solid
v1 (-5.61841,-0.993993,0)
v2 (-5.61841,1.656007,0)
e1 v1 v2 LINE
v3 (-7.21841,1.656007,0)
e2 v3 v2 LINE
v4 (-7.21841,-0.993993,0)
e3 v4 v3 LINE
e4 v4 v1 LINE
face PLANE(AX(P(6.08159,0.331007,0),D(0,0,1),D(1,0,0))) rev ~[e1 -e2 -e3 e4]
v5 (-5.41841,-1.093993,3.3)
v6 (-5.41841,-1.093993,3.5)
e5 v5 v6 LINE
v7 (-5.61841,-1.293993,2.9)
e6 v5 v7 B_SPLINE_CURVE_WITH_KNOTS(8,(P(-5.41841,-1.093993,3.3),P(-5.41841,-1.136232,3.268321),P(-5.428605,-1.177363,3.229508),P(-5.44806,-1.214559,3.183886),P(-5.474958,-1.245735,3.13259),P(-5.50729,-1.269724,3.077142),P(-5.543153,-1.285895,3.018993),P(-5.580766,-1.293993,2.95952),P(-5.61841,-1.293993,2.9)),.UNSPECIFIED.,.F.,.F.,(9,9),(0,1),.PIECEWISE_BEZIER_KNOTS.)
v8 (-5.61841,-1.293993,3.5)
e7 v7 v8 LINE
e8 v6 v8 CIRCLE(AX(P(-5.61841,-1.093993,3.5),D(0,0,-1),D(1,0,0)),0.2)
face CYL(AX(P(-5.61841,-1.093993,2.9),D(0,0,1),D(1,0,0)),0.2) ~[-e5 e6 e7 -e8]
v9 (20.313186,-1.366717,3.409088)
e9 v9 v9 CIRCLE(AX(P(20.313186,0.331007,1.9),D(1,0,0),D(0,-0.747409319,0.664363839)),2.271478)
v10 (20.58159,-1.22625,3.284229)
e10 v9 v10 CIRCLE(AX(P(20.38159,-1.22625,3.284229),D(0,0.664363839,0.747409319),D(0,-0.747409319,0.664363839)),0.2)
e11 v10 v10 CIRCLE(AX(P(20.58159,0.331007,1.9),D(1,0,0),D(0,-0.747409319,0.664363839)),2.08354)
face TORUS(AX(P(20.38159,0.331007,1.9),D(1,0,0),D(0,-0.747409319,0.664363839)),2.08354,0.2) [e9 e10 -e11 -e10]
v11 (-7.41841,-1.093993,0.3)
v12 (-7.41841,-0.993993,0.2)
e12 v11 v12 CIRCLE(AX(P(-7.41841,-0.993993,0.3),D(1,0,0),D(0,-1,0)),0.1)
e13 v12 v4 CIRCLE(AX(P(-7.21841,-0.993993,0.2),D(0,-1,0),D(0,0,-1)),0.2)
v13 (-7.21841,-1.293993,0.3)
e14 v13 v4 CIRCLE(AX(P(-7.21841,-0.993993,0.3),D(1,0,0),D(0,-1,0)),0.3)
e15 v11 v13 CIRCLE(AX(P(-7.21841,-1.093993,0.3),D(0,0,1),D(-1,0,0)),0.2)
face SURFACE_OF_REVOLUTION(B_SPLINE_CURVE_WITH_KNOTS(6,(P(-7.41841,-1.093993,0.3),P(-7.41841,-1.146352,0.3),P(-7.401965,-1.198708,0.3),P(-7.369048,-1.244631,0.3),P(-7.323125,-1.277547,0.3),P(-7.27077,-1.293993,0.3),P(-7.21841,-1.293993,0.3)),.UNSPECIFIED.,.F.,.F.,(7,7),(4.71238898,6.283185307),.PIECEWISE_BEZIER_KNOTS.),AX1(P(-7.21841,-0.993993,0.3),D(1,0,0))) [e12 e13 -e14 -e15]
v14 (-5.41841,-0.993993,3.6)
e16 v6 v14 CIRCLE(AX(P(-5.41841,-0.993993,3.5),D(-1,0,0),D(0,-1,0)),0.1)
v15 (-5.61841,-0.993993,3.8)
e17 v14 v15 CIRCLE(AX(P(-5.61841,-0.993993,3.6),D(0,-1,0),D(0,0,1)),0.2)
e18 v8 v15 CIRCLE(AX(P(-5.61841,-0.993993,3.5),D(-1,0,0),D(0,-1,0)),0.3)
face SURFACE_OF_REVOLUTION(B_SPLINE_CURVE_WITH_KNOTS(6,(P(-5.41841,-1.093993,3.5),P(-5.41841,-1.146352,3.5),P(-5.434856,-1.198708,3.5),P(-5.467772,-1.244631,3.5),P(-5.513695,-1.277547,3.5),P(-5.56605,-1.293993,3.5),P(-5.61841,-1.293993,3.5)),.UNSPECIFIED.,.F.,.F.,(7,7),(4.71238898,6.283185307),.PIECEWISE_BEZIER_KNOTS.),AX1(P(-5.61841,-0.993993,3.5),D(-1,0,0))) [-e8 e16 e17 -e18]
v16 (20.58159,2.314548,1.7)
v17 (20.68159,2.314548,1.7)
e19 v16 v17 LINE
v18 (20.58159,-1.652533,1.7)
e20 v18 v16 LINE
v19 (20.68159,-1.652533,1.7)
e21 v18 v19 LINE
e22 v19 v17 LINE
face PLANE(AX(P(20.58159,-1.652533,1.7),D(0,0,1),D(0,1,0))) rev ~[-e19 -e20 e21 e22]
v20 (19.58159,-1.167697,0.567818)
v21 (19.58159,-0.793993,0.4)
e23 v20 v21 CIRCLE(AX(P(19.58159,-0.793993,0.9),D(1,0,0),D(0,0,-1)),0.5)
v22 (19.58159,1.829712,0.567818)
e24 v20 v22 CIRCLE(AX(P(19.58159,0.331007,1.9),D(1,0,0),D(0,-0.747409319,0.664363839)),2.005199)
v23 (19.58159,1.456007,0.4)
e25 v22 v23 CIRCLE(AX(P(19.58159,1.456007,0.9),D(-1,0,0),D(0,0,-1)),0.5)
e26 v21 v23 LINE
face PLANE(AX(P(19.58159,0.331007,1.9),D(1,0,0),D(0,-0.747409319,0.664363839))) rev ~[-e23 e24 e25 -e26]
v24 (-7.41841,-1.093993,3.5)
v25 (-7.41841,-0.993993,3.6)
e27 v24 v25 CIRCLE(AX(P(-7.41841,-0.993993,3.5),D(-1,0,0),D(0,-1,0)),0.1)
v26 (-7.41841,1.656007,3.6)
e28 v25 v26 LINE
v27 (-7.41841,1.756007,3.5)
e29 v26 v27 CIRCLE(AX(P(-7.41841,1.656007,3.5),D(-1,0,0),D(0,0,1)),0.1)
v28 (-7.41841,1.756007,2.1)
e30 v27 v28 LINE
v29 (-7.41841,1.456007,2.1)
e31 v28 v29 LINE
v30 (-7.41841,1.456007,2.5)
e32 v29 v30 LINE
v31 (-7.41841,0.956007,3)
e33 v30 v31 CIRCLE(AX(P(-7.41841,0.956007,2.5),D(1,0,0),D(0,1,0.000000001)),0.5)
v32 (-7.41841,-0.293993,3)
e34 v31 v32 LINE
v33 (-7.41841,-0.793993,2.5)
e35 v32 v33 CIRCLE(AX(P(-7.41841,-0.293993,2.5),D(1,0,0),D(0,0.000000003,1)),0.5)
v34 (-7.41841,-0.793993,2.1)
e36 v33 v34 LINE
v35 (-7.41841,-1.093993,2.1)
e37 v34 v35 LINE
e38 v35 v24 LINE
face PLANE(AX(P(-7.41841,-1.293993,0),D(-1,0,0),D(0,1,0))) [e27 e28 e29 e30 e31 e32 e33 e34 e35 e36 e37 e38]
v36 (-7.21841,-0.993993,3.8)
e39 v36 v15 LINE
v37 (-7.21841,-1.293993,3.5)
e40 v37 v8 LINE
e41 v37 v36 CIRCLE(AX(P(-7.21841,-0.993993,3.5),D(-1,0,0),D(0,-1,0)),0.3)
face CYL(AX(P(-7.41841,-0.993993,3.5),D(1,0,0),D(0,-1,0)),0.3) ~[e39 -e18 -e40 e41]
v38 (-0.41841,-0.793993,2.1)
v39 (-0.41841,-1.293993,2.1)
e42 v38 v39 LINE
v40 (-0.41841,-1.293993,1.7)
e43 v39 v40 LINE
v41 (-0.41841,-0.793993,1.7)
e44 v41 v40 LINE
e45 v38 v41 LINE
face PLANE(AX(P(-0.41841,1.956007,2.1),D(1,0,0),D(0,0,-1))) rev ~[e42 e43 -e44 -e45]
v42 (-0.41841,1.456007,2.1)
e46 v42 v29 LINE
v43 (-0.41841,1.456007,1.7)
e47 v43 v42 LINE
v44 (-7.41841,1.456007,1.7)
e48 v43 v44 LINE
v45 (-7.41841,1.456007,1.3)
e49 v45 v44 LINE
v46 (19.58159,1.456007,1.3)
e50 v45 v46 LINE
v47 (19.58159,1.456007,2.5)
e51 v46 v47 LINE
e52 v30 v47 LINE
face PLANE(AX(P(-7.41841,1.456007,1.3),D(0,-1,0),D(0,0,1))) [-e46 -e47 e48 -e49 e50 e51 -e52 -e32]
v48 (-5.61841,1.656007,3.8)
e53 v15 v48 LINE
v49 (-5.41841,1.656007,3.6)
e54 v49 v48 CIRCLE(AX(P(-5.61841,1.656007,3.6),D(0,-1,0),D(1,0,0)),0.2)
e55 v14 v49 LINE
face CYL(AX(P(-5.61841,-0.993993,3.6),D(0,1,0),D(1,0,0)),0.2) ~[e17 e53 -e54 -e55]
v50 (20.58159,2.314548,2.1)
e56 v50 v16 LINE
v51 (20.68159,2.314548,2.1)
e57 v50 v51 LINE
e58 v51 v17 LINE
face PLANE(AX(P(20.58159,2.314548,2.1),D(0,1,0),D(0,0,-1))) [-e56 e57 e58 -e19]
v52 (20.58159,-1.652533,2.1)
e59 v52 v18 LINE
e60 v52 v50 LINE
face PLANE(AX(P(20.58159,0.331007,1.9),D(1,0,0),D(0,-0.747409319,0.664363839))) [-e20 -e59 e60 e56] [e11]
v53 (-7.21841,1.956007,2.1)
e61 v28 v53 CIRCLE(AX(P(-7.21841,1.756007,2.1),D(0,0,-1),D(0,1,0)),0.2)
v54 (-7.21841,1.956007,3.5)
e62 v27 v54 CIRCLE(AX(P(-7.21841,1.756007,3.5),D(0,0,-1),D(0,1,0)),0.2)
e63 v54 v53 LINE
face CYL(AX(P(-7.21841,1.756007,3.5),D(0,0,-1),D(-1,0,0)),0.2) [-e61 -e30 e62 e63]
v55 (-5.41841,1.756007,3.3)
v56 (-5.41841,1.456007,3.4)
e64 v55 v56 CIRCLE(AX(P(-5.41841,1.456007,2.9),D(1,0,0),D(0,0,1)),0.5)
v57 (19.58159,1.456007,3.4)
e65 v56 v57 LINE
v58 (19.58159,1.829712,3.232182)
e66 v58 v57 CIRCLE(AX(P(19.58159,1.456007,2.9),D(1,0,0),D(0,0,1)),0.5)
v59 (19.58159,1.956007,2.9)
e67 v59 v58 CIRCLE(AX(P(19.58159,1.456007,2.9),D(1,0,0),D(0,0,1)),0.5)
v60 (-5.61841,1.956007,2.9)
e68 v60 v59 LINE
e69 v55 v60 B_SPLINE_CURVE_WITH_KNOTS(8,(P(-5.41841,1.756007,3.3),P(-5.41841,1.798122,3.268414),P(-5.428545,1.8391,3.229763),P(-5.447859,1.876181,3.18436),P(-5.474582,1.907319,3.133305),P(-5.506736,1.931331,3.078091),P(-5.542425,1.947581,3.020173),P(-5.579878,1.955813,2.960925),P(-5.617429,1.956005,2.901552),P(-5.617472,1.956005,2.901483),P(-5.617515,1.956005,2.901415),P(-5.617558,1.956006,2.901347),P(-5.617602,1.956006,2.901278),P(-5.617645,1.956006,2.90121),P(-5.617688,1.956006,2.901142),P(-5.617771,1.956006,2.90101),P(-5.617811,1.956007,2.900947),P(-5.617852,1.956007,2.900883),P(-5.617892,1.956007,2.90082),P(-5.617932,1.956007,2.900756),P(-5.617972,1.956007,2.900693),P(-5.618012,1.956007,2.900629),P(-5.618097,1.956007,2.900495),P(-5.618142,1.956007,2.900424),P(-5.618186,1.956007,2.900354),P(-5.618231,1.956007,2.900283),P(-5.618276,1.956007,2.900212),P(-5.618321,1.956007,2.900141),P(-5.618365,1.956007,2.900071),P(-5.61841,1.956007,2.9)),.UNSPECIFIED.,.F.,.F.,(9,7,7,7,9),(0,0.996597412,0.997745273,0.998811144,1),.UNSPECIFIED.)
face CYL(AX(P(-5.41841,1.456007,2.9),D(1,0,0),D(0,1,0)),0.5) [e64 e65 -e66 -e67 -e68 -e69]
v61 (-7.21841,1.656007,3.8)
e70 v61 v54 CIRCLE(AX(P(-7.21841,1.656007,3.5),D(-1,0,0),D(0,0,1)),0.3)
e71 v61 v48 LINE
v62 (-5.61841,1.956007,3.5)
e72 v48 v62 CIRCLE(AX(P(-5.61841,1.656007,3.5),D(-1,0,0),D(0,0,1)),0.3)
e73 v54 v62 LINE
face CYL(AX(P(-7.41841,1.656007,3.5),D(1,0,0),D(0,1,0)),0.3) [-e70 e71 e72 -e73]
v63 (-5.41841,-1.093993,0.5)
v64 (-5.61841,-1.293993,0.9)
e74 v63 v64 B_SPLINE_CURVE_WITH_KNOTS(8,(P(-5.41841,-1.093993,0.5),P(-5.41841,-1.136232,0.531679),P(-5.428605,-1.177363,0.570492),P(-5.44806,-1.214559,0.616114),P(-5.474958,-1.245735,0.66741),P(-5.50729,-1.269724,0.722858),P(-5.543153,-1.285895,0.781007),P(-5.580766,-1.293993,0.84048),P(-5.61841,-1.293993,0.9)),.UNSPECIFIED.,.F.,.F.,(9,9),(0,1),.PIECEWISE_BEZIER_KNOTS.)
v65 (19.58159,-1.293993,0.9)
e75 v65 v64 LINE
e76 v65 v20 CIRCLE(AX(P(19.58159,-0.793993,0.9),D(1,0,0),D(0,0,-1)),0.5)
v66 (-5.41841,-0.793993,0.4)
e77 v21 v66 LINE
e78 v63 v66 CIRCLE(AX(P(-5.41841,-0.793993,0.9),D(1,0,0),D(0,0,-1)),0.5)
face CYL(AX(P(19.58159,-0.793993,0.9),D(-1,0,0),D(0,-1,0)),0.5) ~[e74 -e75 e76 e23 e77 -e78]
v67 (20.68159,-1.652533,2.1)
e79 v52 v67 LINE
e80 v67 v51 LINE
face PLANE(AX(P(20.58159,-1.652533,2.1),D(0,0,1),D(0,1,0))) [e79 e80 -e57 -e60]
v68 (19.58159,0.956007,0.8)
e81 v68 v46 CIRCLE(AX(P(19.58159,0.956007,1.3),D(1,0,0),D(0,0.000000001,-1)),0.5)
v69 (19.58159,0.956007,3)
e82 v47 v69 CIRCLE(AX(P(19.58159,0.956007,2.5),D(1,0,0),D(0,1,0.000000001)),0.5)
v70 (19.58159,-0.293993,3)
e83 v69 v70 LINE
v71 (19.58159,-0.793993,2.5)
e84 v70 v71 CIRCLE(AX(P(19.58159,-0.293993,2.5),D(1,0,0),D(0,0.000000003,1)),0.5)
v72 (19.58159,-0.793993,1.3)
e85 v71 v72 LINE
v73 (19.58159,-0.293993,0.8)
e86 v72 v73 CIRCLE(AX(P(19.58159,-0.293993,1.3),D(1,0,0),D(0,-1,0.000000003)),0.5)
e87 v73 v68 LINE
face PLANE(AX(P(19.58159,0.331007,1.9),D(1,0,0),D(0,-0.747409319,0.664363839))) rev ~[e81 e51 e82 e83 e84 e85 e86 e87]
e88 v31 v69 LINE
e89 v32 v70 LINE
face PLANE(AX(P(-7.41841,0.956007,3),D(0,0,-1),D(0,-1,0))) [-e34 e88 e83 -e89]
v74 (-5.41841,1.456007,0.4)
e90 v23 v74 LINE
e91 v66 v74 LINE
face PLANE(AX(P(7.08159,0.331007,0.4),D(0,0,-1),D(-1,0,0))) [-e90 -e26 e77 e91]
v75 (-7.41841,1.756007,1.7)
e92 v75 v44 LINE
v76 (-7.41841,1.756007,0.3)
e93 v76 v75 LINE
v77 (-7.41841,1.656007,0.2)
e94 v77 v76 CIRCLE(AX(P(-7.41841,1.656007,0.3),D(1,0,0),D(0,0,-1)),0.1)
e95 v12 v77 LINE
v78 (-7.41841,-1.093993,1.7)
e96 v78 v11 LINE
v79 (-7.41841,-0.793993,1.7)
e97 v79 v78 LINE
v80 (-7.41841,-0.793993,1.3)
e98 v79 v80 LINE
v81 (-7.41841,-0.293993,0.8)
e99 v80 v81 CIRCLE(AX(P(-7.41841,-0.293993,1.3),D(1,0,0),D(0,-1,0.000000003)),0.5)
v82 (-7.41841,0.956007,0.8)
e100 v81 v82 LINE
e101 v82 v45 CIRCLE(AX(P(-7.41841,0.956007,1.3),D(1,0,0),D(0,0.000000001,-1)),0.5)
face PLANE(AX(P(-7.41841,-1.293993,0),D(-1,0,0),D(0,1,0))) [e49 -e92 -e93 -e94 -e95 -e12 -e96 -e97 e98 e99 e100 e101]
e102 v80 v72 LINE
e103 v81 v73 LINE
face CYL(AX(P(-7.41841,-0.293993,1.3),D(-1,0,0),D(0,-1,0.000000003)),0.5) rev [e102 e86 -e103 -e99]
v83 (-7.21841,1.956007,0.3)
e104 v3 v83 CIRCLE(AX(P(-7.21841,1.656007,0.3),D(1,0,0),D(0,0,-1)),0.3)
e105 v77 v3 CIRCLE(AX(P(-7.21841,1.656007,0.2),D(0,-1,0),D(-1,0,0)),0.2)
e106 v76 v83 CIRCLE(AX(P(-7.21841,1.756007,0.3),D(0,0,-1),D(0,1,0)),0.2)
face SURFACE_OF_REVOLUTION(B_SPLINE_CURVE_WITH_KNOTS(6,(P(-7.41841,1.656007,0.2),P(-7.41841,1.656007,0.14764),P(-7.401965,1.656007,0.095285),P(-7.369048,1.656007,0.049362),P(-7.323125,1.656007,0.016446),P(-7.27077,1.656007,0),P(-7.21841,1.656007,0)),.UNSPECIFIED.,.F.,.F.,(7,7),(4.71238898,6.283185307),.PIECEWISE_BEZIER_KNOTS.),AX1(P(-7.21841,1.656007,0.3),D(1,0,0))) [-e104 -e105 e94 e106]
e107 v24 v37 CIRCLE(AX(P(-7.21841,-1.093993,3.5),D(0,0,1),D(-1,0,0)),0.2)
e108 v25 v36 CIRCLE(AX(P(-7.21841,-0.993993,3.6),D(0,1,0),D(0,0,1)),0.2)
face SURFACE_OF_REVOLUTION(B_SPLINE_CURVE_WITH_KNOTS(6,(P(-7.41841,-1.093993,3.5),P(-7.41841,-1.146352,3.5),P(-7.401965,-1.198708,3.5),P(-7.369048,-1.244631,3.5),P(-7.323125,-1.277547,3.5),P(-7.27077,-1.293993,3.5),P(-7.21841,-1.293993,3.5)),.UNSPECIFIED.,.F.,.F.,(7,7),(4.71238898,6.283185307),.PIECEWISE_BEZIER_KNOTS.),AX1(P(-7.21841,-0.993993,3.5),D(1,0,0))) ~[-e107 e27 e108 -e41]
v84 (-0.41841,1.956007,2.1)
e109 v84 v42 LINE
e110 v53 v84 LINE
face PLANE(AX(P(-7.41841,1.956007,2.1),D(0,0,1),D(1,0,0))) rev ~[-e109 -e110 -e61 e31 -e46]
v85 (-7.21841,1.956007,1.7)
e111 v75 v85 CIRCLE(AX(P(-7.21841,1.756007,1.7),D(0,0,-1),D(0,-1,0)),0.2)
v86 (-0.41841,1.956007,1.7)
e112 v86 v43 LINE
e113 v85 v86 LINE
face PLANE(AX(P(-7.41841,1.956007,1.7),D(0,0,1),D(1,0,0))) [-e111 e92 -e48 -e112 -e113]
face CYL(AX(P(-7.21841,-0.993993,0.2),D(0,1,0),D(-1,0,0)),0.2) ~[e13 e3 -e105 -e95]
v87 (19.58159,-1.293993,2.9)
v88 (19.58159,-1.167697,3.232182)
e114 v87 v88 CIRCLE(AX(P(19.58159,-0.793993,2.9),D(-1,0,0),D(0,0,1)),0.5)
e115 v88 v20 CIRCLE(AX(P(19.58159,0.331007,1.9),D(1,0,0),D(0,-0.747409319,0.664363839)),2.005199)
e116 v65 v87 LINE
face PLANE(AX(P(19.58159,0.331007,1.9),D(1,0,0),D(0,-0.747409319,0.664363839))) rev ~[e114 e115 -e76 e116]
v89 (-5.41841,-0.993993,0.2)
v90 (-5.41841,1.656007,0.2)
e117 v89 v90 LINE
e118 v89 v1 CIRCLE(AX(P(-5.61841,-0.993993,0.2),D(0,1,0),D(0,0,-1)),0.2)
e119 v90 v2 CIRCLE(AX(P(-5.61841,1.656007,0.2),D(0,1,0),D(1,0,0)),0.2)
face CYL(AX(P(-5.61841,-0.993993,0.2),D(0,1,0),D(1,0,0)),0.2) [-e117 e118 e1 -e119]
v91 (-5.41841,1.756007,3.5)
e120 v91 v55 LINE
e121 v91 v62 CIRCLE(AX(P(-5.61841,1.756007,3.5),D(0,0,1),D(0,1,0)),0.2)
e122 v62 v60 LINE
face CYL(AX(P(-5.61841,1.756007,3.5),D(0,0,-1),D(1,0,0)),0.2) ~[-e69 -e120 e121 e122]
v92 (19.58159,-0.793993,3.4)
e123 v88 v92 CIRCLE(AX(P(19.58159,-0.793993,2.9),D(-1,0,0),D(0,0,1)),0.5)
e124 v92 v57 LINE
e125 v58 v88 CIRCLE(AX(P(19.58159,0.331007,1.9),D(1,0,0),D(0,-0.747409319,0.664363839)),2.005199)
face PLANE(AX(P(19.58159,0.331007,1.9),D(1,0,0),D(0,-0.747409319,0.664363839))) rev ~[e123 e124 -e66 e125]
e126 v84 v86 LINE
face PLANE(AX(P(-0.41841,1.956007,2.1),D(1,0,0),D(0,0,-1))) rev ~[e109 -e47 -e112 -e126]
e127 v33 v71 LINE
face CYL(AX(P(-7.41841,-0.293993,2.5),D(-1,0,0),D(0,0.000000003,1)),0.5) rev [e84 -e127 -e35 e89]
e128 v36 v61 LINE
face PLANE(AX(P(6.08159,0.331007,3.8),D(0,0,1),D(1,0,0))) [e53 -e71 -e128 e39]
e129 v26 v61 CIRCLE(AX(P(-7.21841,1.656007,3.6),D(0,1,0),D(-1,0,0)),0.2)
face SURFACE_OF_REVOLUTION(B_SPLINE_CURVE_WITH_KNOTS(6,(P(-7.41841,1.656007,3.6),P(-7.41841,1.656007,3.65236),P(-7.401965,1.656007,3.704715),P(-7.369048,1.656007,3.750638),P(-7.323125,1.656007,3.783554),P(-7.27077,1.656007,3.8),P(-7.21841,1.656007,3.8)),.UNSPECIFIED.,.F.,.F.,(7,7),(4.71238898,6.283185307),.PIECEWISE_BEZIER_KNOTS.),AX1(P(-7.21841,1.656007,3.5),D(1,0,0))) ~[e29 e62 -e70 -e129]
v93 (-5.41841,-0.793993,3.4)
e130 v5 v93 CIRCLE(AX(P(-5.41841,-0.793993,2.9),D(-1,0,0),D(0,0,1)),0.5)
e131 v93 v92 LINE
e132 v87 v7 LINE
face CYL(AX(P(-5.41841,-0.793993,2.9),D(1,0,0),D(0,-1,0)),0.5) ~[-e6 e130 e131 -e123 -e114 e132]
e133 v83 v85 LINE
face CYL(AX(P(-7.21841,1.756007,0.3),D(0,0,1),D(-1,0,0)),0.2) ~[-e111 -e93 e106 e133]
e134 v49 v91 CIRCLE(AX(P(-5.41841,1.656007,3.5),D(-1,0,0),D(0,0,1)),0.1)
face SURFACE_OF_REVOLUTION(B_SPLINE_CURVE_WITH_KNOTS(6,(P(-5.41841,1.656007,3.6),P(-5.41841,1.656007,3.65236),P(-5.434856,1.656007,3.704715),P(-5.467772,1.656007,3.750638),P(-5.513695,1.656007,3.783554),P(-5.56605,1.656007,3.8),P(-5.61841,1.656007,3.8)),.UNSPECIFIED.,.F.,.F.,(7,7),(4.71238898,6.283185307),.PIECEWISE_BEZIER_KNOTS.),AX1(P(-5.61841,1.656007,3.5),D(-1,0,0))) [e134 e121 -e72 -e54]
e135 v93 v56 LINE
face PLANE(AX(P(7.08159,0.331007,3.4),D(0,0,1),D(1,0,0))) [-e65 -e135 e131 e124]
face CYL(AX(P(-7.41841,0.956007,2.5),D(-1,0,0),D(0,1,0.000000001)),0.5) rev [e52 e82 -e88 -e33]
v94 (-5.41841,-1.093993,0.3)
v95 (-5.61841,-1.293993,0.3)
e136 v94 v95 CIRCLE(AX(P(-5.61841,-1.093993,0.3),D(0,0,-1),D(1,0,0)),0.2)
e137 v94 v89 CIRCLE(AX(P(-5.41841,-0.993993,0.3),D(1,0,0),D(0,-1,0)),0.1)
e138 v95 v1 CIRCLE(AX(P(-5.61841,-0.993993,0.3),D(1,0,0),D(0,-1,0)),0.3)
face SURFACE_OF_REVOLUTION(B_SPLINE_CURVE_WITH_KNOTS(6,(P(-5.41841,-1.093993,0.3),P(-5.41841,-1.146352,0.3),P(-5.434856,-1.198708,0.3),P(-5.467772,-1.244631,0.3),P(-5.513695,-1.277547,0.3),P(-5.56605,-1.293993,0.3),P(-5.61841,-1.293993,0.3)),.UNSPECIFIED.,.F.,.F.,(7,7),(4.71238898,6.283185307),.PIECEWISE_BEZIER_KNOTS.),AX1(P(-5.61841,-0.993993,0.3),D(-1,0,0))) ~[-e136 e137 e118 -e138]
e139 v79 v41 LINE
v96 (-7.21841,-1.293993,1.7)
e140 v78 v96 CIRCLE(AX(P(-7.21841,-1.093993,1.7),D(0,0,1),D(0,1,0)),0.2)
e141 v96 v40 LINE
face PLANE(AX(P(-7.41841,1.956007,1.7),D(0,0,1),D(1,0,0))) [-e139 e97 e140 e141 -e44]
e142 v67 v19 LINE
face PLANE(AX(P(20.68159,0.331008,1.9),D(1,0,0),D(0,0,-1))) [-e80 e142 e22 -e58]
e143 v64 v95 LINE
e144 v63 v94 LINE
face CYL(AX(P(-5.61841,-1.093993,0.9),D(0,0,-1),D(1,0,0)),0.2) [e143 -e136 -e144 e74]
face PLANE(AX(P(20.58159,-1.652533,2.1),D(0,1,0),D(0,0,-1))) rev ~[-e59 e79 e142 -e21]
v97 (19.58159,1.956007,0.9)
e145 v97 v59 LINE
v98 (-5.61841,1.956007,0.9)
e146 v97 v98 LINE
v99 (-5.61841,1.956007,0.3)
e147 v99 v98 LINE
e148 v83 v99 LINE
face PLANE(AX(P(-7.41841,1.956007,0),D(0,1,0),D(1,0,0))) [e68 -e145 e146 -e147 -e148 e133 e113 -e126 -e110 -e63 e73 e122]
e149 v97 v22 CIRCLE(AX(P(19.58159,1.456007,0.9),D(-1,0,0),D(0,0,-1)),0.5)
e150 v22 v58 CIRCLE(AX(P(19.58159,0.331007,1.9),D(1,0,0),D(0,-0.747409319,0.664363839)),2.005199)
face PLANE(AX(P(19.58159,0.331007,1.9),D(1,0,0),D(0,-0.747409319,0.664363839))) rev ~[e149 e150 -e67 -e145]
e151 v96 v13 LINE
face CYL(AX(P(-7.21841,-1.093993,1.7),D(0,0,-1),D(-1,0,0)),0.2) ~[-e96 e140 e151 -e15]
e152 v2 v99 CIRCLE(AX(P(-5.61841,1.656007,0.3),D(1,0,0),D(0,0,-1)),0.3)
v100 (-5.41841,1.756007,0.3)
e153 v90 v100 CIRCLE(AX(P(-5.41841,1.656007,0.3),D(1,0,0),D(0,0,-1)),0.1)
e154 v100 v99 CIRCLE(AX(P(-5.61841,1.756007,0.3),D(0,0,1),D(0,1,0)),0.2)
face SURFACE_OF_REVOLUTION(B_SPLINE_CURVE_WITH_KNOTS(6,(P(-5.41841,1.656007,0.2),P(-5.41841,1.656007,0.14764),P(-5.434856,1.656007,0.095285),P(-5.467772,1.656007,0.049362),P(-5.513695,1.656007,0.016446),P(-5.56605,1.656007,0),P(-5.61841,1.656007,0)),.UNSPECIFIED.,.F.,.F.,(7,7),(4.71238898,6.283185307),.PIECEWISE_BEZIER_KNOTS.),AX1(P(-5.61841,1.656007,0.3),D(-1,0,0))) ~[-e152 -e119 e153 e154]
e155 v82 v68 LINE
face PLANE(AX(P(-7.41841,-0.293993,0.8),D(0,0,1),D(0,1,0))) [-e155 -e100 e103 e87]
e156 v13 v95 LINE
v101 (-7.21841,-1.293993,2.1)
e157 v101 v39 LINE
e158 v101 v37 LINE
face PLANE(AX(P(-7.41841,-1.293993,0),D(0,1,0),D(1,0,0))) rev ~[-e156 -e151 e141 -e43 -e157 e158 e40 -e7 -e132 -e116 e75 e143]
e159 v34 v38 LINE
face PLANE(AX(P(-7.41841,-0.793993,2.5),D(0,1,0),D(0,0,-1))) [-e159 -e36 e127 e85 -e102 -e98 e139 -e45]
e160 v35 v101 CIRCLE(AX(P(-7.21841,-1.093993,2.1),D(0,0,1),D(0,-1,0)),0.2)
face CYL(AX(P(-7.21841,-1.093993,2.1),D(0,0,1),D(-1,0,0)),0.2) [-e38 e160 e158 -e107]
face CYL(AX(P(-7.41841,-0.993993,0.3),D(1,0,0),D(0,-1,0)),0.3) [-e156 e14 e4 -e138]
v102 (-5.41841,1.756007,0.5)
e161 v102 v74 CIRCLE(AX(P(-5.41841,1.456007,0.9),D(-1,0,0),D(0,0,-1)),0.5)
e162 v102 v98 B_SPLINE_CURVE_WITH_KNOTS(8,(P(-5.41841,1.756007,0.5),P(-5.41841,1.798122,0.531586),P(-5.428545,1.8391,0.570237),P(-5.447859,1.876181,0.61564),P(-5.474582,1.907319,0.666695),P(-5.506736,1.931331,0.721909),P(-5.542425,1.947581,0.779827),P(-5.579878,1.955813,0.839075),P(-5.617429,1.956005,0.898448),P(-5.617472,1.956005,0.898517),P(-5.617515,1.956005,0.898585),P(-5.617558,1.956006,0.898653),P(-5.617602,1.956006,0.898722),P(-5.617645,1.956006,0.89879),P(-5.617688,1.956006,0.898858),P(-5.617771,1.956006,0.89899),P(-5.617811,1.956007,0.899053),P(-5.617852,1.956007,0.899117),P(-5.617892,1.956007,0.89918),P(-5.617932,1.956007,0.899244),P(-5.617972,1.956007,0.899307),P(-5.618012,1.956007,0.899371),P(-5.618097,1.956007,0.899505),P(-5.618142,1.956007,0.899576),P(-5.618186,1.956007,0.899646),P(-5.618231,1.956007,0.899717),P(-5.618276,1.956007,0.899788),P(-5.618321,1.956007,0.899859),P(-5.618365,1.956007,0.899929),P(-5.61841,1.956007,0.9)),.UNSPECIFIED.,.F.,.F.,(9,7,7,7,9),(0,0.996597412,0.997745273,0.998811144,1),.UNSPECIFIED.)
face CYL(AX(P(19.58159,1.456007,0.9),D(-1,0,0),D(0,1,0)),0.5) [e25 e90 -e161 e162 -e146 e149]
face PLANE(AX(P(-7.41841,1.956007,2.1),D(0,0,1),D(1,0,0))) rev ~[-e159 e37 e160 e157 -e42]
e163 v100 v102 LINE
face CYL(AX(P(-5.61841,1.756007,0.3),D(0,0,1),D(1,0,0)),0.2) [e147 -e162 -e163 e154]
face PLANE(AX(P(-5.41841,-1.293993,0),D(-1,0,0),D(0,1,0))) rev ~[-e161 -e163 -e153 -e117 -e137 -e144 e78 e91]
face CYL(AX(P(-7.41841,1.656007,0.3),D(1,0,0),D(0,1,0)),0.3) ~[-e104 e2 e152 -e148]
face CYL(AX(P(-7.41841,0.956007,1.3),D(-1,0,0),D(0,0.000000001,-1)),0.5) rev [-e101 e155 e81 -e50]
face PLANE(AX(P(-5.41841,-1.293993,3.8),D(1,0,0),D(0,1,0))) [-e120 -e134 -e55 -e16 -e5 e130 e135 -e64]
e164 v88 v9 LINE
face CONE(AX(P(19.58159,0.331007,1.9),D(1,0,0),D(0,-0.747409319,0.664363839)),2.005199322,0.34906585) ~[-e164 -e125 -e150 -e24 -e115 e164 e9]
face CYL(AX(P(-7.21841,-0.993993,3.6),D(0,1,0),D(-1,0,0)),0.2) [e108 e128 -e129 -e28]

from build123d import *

# Parameters (mm, degrees)
ESQUISSE1_W             = 27
ESQUISSE1_H             = 3.25
BOSS_EXTRU_5_DEPTH      = 3.8
ESQUISSE10_W            = 25
ESQUISSE10_H            = 3.25
ENL_V_MAT_EXTRU_1_DEPTH = 0.4
ESQUISSE12_W            = 25
ESQUISSE12_H            = 3.25
ENL_V_MAT_EXTRU_2_DEPTH = 0.4
ENL_V_MAT_EXTRU_3_DEPTH = 27
ESQUISSE14_W            = 7
ESQUISSE14_H            = 0.4
ENL_V_MAT_EXTRU_4_DEPTH = 21.209927394
CONG_1_R                = 0.5
CONG_2_R                = 0.3
CONG_3_R                = 0.2
ESQUISSE19_R            = 2.005199322
BOSS_EXTRU_8_DEPTH      = 1
D_POUILLE1_ANGLE        = 20
CONG_4_R                = 0.2
ESQUISSE20_W            = 0.4
ESQUISSE20_H            = 3.967080209
BOSS_EXTRU_9_DEPTH      = 0.1


with BuildPart() as part:
    # Esquisse1 → Boss.-Extru.5 (new body)
    with BuildSketch(Plane.XY):
        with Locations((6.081589958, 0.331007393)):
            Rectangle(ESQUISSE1_W, ESQUISSE1_H)
    extrude(amount=BOSS_EXTRU_5_DEPTH)

    # Esquisse10 → Enlèv. mat.-Extru.1 (cut)
    with BuildSketch(Plane(origin=(0, 0, 0), x_dir=(-1, 0, 0), z_dir=(0, 0, -1))):
        with Locations((-7.081589958, 0.331007393)):
            Rectangle(ESQUISSE10_W, ESQUISSE10_H)
    extrude(amount=-ENL_V_MAT_EXTRU_1_DEPTH, mode=Mode.SUBTRACT)

    # Esquisse12 → Enlèv. mat.-Extru.2 (cut)
    with BuildSketch(Plane.XY.offset(3.8)):
        with Locations((7.081589958, 0.331007393)):
            Rectangle(ESQUISSE12_W, ESQUISSE12_H)
    extrude(amount=-ENL_V_MAT_EXTRU_2_DEPTH, mode=Mode.SUBTRACT)

    # Esquisse13 → Enlèv. mat.-Extru.3 (cut)
    with BuildSketch(Plane.ZY.offset(7.418410042)):
        with BuildLine():
            Line((1.3, 1.456007393), (2.5, 1.456007393))
            ThreePointArc((2.5, 1.456007393), (2.853553391, 1.309560783), (3, 0.956007393))
            Line((3, 0.956007393), (3, -0.293992607))
            ThreePointArc((3, -0.293992607), (2.853553391, -0.647545998), (2.5, -0.793992607))
            Line((2.5, -0.793992607), (1.3, -0.793992607))
            ThreePointArc((1.3, -0.793992607), (0.946446609, -0.647545998), (0.8, -0.293992607))
            Line((0.8, -0.293992607), (0.8, 0.956007393))
            ThreePointArc((0.8, 0.956007393), (0.946446609, 1.309560783), (1.3, 1.456007393))
        make_face()
    extrude(amount=-ENL_V_MAT_EXTRU_3_DEPTH, mode=Mode.SUBTRACT)

    # Esquisse14 → Enlèv. mat.-Extru.4 (cut, through all)
    with BuildSketch(Plane(origin=(0, 1.956007393, 0), x_dir=(1, 0, 0), z_dir=(0, 1, 0))):
        with Locations((-3.918410042, -1.9)):
            Rectangle(ESQUISSE14_W, ESQUISSE14_H)
    extrude(amount=-ENL_V_MAT_EXTRU_4_DEPTH, mode=Mode.SUBTRACT)

    # Congé1
    cong_1_edges = [part.edges().sort_by_distance(p)[0] for p in [
        (7.081589958, 1.956007393, 0.4),
        (7.081589958, -1.293992607, 0.4),
        (7.081589958, 1.956007393, 3.4),
        (7.081589958, -1.293992607, 3.4),
    ]]
    fillet(cong_1_edges, radius=CONG_1_R)

    # Congé2
    cong_2_edges = [part.edges().sort_by_distance(p)[0] for p in [
        (-6.418410042, 1.956007393, 0),
        (-6.418410042, 1.956007393, 3.8),
        (-6.418410042, -1.293992607, 0),
        (-6.418410042, -1.293992607, 3.8),
    ]]
    fillet(cong_2_edges, radius=CONG_2_R)

    # Congé3
    cong_3_edges = [part.edges().sort_by_distance(p)[0] for p in [
        (-7.418410042, -1.293992607, 2.8),
        (-5.418410042, 0.331007393, 0),
        (-5.418410042, 1.868139427, 0.087867966),
        (-5.418410042, -1.206124642, 0.087867966),
        (-7.418410042, 0.331007393, 0),
        (-7.418410042, 1.868139427, 0.087867966),
        (-7.418410042, -1.206124642, 0.087867966),
        (-7.418410042, 1.956007393, 2.8),
        (-5.418410042, 0.331007393, 3.8),
        (-7.418410042, 0.331007393, 3.8),
        (-7.418410042, -1.206124642, 3.712132034),
        (-7.418410042, 1.868139427, 3.712132034),
        (-5.418410042, -1.206124642, 3.712132034),
        (-5.418410042, 1.868139427, 3.712132034),
        (-5.418410042, 1.956007393, 0.6),
        (-5.418410042, -1.293992607, 0.6),
        (-5.418410042, -1.293992607, 3.2),
        (-5.418410042, 1.956007393, 3.2),
        (-7.418410042, 1.956007393, 1),
        (-7.418410042, -1.293992607, 1),
    ]]
    fillet(cong_3_edges, radius=CONG_3_R)

    # Esquisse19 → Boss.-Extru.8 (add)
    with BuildSketch(Plane(origin=(19.581589958, 0, 0), x_dir=(0, 0, -1), z_dir=(1, 0, 0))):
        with Locations(Location((-1.9, 0.331007393, 0), (0, 0, 228.366460663))):
            Circle(ESQUISSE19_R)
    extrude(amount=BOSS_EXTRU_8_DEPTH)

    # Dépouille1
    d_pouille1_faces = [part.faces().sort_by_distance(p)[0] for p in [
        (20.081589958, 1.829712052, 0.567818081),
    ]]
    draft(d_pouille1_faces, Plane(origin=(19.581589958, 0.331007393, 1.9), x_dir=(0, 0, -1), z_dir=(-1, 0, 0)), D_POUILLE1_ANGLE)

    # Congé4
    cong_4_edges = [part.edges().sort_by_distance(p)[0] for p in [
        (20.581589958, 2.101746797, 0.326009419),
    ]]
    fillet(cong_4_edges, radius=CONG_4_R)

    # Esquisse20 → Boss.-Extru.9 (add)
    with BuildSketch(Plane(origin=(20.581589958, 0, 0), x_dir=(0, 0, -1), z_dir=(1, 0, 0))):
        with Locations((-1.9, 0.331007542)):
            Rectangle(ESQUISSE20_W, ESQUISSE20_H)
    extrude(amount=BOSS_EXTRU_9_DEPTH)


solid = part.part
